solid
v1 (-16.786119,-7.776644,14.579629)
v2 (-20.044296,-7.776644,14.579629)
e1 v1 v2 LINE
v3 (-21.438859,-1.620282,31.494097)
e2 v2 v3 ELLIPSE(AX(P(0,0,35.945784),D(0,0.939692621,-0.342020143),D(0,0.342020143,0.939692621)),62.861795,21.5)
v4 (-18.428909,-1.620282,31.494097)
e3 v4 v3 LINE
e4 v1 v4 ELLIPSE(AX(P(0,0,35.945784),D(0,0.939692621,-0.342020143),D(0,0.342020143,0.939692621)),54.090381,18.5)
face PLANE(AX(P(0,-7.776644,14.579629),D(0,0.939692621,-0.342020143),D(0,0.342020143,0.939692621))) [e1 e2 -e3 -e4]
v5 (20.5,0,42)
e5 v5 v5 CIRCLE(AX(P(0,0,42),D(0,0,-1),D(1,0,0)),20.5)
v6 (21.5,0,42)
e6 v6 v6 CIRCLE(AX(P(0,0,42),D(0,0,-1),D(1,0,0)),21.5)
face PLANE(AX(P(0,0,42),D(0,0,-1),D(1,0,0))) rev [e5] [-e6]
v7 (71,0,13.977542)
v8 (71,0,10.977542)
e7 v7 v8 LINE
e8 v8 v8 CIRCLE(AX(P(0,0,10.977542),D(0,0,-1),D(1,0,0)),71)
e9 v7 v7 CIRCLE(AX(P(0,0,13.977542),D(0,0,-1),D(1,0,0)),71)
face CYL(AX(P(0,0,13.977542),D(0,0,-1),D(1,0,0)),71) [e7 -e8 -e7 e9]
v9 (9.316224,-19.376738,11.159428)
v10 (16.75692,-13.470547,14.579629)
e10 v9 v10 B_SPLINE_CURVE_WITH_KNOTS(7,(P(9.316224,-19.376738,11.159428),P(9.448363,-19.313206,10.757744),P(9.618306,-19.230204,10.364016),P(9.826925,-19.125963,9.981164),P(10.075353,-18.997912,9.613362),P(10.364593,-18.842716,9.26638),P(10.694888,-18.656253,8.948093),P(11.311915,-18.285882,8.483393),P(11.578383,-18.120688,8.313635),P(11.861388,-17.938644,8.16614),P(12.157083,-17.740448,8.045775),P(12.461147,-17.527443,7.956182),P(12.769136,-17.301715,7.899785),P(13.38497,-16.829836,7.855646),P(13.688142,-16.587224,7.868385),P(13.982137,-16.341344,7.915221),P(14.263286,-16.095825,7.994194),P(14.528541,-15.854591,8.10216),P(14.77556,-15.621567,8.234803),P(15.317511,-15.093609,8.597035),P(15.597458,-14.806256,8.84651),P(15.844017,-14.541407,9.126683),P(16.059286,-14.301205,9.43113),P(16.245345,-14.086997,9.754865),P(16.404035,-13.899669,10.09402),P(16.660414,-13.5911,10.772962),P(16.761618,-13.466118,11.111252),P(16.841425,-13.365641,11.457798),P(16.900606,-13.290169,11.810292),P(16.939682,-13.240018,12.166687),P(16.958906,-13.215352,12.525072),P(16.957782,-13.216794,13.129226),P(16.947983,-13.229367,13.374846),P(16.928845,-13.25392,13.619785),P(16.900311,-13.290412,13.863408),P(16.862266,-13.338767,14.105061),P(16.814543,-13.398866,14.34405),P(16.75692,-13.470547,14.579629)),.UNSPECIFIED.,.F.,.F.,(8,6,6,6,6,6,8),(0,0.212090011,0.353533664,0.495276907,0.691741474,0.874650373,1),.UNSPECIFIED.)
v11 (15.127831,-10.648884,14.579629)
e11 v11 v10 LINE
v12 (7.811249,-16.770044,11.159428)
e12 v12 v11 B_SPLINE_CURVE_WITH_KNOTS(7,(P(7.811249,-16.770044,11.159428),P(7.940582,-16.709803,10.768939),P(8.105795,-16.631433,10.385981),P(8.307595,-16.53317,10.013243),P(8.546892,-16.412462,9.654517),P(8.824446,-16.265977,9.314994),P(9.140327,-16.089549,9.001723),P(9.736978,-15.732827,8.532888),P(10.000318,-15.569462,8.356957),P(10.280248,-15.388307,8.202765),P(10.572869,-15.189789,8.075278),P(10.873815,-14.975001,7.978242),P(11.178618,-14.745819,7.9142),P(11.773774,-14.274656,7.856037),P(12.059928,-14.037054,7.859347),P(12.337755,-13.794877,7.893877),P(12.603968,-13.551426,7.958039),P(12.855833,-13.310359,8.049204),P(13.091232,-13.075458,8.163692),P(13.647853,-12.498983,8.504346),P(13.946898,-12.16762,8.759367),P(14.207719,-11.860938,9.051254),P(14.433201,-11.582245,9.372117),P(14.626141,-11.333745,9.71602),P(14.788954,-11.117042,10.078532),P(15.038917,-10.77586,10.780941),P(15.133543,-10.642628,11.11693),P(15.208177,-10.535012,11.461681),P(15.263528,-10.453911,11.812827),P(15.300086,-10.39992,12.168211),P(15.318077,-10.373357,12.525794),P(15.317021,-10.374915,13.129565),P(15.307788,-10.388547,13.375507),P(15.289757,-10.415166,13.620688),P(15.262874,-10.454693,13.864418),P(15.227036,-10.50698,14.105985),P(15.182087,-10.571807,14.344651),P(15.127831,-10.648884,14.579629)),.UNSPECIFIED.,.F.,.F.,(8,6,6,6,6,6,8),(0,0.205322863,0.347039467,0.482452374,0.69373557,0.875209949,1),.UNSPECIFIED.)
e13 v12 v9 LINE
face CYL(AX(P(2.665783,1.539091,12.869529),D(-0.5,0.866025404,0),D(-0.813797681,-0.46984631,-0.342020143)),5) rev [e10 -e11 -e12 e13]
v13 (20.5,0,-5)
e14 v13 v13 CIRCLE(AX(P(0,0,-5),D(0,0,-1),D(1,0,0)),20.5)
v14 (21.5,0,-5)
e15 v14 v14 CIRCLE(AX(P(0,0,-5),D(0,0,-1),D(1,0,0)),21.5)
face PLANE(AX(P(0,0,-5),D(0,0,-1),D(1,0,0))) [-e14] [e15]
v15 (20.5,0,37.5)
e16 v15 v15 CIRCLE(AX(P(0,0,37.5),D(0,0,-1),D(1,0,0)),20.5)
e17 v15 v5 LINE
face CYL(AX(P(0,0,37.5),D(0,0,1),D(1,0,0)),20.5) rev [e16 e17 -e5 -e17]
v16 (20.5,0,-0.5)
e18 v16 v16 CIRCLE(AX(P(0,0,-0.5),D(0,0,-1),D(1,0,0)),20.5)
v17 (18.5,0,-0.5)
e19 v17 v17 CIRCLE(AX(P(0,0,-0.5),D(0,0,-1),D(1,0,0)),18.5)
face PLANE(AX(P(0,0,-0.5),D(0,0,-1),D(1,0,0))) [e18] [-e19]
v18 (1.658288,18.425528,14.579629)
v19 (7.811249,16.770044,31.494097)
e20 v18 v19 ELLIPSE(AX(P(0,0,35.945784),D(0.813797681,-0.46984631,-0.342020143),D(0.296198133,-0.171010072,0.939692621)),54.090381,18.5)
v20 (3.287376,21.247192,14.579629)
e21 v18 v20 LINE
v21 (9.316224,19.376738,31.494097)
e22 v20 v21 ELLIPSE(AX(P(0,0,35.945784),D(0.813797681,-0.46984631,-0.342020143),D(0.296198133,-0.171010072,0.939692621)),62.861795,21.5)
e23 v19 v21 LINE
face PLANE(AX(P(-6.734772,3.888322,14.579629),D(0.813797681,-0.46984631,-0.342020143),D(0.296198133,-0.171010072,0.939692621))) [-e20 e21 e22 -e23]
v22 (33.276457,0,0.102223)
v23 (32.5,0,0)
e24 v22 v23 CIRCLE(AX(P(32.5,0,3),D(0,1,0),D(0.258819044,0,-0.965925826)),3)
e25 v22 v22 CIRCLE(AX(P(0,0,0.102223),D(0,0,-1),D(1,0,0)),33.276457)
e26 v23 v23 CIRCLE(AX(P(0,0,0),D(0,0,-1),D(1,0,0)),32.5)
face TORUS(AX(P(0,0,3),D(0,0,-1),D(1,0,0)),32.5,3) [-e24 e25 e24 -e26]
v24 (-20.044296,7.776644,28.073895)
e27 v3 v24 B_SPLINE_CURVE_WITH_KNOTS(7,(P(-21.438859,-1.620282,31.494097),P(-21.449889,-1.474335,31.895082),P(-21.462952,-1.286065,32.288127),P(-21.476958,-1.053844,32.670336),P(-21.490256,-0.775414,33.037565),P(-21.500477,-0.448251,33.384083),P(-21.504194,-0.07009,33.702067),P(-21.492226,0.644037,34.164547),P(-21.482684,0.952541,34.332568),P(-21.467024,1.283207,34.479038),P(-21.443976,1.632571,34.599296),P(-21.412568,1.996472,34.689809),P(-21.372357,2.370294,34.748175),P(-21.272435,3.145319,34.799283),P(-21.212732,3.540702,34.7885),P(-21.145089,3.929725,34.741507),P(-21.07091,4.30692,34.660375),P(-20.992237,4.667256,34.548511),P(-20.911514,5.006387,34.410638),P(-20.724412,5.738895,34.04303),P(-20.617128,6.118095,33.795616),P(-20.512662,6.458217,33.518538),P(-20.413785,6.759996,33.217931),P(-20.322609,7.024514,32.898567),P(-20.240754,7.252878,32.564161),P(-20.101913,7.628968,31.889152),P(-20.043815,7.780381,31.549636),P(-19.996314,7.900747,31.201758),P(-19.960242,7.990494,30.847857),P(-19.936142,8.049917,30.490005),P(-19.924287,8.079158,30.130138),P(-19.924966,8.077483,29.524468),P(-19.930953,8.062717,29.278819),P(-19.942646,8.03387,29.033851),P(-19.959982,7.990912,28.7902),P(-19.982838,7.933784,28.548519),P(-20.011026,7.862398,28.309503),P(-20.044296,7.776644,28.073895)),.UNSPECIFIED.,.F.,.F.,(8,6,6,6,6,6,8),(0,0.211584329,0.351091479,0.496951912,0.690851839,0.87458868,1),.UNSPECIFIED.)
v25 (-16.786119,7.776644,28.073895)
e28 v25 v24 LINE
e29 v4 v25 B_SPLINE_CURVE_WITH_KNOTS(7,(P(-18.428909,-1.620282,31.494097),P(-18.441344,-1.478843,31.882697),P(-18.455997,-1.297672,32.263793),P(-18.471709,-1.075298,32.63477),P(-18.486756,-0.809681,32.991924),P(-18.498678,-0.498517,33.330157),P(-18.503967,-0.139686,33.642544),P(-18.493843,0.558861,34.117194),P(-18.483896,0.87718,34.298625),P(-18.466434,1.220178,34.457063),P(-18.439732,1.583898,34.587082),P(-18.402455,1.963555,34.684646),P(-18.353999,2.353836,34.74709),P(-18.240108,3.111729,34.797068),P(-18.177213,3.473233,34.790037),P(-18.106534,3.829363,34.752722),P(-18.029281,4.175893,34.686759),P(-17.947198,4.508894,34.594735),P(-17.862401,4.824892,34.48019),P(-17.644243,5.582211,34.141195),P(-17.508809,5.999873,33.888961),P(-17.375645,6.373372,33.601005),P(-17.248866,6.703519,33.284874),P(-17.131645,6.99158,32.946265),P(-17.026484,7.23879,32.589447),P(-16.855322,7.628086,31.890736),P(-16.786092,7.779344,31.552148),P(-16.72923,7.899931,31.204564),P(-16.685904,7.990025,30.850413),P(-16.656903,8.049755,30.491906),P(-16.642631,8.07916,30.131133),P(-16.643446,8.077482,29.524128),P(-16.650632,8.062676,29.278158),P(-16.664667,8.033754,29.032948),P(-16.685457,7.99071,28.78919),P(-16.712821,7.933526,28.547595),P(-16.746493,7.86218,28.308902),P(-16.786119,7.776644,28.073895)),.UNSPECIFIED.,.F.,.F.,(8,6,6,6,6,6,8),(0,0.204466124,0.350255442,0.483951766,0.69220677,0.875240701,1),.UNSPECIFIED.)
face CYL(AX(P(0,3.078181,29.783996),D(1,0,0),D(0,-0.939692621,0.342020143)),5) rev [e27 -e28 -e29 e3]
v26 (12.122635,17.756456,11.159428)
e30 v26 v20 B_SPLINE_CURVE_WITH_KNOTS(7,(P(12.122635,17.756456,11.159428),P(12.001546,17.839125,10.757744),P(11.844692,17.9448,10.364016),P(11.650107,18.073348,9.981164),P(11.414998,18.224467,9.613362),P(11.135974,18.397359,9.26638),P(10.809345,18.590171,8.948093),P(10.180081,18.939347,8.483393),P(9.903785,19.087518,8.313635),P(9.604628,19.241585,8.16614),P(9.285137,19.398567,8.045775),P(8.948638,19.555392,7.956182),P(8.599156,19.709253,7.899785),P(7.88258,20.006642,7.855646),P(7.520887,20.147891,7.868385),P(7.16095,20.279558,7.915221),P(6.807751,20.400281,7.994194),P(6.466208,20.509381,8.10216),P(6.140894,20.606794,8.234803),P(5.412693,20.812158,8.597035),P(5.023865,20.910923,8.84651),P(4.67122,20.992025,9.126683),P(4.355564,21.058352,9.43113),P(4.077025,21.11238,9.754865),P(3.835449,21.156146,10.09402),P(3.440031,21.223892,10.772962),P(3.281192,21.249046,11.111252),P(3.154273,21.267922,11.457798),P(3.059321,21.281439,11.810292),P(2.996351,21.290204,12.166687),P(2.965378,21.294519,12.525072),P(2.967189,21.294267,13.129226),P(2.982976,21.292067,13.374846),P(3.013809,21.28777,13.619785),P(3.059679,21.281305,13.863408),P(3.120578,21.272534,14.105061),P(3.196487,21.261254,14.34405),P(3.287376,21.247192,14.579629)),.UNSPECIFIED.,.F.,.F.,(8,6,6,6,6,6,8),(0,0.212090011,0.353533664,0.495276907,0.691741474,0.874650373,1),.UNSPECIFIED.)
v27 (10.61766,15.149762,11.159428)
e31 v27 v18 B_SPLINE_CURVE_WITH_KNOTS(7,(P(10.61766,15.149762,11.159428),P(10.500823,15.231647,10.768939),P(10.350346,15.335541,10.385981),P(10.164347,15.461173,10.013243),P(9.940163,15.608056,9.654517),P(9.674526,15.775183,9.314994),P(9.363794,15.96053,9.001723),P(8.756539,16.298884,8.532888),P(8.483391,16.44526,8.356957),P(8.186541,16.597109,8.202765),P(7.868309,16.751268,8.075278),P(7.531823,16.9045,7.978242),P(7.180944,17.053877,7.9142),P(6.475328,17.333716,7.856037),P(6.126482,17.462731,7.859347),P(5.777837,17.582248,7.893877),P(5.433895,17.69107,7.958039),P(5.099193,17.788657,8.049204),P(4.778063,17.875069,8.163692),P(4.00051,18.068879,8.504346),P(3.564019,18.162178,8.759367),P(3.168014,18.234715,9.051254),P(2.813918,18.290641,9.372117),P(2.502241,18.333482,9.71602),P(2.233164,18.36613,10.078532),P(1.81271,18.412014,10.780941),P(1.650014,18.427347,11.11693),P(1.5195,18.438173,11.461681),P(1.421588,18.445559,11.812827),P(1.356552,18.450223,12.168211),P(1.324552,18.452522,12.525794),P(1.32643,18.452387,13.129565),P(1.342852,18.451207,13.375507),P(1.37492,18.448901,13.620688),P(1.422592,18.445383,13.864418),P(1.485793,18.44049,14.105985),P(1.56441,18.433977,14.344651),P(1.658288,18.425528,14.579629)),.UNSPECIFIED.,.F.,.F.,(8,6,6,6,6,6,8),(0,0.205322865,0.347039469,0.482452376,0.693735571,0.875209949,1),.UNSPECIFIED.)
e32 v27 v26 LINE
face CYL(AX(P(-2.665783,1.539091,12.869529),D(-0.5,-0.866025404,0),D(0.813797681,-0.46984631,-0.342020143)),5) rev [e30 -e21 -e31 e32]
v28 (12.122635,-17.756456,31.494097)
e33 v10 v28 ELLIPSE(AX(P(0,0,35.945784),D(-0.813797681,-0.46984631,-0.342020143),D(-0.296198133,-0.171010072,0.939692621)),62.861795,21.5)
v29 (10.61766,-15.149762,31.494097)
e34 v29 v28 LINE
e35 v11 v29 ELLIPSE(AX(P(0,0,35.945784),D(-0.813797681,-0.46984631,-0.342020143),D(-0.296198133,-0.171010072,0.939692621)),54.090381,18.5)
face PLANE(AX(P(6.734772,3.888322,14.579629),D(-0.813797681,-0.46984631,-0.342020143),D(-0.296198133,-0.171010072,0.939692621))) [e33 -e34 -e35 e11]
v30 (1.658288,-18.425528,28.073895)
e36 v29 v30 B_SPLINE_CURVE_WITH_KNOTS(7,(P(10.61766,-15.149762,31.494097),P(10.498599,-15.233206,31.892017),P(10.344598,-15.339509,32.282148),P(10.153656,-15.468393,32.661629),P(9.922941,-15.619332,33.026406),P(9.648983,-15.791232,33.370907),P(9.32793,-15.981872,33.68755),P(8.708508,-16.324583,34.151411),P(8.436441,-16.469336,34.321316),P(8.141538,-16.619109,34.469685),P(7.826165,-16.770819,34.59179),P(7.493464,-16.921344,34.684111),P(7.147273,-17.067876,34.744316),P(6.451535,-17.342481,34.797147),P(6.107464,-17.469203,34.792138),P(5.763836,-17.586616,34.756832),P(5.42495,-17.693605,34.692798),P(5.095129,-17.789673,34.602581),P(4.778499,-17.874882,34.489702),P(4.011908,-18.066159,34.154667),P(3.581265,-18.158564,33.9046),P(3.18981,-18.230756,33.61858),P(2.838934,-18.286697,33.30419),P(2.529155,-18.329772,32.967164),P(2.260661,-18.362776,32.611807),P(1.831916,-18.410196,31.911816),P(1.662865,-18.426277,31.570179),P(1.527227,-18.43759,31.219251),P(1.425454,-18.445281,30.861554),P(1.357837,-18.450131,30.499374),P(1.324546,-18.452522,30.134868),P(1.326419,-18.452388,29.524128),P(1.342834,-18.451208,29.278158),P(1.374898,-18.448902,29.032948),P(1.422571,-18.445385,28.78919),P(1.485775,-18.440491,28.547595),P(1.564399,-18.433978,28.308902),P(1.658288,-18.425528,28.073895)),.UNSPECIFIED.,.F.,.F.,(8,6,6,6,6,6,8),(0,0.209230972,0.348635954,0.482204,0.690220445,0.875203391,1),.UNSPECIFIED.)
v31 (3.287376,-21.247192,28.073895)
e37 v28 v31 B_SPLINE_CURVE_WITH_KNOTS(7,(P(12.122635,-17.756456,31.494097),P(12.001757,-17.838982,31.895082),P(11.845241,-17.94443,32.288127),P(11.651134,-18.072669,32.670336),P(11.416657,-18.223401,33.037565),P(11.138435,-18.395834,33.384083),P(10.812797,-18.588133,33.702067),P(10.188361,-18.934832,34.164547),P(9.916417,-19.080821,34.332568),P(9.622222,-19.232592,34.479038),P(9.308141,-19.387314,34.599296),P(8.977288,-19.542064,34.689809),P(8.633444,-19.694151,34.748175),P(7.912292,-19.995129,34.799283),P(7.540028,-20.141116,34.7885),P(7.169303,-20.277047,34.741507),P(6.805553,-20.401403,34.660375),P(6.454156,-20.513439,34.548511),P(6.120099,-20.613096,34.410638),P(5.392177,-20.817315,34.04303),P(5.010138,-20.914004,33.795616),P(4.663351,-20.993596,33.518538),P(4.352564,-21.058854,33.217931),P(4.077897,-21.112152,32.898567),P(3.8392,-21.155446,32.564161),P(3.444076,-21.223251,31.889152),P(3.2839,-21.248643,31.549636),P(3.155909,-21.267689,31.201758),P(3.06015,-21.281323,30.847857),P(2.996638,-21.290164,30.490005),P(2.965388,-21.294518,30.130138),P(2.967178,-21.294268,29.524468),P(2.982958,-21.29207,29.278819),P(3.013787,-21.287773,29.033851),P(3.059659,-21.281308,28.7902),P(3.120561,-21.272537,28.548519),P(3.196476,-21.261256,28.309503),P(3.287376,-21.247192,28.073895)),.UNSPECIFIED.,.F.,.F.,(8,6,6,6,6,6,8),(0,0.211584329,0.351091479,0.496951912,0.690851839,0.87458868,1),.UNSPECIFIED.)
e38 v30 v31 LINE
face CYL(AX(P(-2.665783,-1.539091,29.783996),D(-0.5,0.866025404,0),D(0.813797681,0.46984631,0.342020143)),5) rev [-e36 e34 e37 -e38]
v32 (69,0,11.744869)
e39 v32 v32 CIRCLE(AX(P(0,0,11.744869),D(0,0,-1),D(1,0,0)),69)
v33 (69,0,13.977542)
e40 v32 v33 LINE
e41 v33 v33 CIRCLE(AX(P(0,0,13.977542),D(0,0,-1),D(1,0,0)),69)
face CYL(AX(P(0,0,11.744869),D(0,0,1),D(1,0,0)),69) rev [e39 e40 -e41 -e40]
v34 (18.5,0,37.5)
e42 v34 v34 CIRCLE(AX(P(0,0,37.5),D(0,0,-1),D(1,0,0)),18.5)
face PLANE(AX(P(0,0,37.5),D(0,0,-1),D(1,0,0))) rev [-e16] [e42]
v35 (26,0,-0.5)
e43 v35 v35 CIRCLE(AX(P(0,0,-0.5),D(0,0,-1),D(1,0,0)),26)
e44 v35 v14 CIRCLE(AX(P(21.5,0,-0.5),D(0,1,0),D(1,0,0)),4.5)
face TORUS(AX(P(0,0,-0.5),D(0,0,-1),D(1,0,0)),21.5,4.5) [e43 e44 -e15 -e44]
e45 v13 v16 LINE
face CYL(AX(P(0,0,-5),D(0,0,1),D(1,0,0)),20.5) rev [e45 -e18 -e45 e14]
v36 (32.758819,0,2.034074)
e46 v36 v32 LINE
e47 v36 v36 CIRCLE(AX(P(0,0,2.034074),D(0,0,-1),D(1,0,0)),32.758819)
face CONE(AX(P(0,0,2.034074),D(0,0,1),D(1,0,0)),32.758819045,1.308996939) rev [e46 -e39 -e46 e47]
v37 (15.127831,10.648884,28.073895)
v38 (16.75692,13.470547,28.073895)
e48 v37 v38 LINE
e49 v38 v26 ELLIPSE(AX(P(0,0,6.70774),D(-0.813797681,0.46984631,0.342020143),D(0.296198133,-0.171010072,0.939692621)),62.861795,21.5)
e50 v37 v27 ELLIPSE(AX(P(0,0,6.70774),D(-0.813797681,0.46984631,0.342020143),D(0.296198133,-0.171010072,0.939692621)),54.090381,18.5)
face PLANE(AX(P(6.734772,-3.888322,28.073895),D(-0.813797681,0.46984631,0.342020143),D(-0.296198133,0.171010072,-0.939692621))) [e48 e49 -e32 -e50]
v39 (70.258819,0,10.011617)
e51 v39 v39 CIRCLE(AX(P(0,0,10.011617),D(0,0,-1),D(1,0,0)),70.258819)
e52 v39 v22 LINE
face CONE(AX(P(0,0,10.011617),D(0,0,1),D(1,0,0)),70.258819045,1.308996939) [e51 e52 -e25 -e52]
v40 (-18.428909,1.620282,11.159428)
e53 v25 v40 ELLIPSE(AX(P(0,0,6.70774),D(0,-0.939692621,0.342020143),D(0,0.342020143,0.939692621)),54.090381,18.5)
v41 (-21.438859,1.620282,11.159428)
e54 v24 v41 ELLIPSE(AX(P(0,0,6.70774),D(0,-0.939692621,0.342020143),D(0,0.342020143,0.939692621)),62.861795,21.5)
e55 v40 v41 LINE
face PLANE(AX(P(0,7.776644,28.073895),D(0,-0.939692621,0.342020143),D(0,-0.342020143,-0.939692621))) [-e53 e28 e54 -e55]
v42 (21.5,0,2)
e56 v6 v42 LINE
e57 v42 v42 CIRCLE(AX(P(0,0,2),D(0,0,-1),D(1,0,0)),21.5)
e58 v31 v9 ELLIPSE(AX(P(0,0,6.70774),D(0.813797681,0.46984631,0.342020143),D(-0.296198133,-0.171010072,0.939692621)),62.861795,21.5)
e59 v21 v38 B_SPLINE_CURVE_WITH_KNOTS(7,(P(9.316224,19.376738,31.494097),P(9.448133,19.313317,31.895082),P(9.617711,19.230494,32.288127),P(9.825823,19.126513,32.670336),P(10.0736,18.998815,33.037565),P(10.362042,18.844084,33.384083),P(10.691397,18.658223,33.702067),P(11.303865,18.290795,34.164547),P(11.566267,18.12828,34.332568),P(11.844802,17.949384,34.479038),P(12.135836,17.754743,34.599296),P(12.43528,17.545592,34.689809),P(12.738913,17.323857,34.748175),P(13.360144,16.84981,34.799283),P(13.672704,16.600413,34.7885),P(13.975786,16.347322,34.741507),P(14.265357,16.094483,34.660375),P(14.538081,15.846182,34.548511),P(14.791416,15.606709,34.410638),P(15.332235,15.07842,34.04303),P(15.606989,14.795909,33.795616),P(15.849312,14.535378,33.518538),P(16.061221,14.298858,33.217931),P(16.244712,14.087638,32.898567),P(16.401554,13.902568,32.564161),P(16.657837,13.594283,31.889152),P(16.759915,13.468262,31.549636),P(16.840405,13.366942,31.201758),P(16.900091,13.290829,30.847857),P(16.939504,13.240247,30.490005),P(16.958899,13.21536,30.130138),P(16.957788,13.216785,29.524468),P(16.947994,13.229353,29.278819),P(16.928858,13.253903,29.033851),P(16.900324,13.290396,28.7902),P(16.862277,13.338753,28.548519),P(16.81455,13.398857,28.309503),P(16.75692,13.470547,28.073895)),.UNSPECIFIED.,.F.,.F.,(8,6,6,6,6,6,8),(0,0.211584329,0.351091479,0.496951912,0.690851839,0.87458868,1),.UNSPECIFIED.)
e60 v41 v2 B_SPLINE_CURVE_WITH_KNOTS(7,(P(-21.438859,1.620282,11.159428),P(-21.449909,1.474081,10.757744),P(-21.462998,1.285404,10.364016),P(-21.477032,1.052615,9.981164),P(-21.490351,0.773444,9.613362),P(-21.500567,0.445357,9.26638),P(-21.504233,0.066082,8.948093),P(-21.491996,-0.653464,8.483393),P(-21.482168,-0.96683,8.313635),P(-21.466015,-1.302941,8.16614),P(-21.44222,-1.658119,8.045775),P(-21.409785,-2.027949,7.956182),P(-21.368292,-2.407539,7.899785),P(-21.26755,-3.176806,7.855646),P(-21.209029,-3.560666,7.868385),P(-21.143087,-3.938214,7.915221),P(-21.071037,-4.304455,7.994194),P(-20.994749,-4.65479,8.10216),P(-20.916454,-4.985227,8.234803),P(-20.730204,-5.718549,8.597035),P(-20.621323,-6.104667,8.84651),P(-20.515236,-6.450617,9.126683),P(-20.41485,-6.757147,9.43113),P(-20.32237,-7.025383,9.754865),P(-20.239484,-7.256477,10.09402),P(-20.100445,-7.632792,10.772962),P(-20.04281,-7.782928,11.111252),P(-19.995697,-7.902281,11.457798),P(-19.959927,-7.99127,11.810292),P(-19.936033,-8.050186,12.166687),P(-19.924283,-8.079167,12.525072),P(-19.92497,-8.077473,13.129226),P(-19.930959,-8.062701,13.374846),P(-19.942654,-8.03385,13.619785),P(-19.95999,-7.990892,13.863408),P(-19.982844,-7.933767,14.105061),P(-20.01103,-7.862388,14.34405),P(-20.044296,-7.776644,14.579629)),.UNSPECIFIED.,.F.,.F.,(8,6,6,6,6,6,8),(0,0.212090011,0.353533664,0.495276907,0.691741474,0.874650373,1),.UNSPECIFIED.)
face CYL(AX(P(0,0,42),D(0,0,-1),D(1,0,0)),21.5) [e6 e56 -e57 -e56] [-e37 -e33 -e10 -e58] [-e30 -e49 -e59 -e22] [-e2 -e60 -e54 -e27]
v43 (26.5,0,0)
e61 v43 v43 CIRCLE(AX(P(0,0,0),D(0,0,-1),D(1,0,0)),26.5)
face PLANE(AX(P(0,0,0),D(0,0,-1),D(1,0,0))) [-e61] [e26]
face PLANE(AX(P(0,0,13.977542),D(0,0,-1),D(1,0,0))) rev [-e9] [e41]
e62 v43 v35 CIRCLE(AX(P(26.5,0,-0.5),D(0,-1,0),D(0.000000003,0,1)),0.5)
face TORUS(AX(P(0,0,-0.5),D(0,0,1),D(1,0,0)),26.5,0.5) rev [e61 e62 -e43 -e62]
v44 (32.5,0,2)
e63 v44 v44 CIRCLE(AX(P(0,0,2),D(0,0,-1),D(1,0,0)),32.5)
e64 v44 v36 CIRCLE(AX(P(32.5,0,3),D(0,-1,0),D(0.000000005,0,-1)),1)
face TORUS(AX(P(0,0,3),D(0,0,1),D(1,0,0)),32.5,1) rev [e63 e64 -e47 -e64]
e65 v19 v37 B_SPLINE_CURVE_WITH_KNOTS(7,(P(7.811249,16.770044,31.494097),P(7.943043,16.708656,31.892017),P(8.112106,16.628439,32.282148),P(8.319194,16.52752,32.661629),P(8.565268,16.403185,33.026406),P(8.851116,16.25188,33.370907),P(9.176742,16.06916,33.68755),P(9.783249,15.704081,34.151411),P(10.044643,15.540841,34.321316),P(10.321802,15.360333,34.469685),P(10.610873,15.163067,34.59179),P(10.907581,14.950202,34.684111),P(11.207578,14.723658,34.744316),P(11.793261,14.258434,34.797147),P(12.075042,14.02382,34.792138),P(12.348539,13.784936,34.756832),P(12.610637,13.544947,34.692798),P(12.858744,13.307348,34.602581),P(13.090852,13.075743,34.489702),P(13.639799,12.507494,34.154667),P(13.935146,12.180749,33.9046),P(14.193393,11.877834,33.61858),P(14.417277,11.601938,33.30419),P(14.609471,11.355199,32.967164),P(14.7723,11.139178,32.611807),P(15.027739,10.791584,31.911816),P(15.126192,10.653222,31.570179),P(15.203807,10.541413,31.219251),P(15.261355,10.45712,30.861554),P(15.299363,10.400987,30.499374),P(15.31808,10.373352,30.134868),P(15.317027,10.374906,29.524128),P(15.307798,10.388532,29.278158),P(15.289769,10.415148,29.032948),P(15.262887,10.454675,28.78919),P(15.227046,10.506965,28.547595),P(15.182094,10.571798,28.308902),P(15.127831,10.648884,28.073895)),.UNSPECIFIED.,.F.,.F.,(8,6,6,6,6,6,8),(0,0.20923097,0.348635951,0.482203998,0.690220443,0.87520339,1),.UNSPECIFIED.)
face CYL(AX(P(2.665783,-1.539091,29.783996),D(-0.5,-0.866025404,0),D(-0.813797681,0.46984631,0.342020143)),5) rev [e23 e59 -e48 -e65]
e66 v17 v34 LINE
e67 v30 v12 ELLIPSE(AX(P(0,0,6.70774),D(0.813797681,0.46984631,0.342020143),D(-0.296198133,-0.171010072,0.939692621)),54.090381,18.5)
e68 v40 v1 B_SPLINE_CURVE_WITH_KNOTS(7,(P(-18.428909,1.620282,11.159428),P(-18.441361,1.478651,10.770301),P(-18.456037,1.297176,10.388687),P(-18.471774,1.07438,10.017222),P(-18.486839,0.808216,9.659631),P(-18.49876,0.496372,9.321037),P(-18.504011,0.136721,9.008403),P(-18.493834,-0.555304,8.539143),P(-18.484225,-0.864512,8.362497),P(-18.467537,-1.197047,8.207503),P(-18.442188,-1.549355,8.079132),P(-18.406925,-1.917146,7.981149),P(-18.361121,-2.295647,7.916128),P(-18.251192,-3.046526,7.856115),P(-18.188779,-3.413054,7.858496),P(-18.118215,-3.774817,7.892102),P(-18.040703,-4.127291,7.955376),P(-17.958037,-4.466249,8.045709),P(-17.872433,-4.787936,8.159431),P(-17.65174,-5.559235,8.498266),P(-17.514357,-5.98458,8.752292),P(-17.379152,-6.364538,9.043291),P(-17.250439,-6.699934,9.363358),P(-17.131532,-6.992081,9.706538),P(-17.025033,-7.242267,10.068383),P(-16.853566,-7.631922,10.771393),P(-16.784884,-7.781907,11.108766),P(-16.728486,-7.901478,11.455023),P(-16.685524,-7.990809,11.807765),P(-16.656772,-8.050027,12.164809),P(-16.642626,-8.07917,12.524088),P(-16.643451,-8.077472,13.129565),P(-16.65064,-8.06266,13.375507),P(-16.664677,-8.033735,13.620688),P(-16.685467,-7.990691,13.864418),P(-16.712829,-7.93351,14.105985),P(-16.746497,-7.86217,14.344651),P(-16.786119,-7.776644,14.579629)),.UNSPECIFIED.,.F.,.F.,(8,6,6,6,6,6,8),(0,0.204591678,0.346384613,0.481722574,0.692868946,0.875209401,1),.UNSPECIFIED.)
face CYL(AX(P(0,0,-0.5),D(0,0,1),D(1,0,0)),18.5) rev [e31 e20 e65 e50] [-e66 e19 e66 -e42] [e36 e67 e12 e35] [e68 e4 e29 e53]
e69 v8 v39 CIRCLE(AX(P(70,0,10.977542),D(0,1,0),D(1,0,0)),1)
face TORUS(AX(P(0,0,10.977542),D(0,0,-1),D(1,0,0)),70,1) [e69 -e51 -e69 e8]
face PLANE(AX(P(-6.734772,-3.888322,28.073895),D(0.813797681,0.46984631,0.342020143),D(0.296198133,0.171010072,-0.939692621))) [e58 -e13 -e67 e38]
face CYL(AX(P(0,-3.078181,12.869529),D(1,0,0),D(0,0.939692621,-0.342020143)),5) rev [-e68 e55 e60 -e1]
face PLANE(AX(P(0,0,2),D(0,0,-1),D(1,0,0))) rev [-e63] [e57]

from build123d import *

# Parameters (mm, degrees)
CORTE_EXTRUS_O1_REACH      = 110.839
CORTE_EXTRUS_O1_END_RADIUS = 21.5
PADR_OCIRCULAR1_COUNT      = 3


with BuildPart() as part:
    # Esboço1 → Revolução1 (revolve)
    with BuildSketch(Plane(origin=(0, 0, 0), x_dir=(0, 0, -1), z_dir=(1, 0, 0)), mode=Mode.PRIVATE) as revolu_o1_sk:
        with BuildLine():
            Line((-13.977542355, 71), (-10.977542355, 71))
            ThreePointArc((-10.977542355, 71), (-10.368780926, 70.79335334), (-10.011616529, 70.258819045))
            Line((-10.011616529, 70.258819045), (-0.102222521, 33.276457135))
            ThreePointArc((-0.102222521, 33.276457135), (-0.025665416, 32.891578577), (0, 32.5))
            Line((0, 32.5), (0, 26.5))
            ThreePointArc((0, 26.5), (0.146446609, 26.146446609), (0.5, 26))
            ThreePointArc((0.5, 26), (3.681980515, 24.681980515), (5, 21.5))
            Line((5, 21.5), (5, 20.5))
            Line((5, 20.5), (0.5, 20.5))
            Line((0.5, 20.5), (0.5, 18.5))
            Line((0.5, 18.5), (-37.5, 18.5))
            Line((-37.5, 18.5), (-37.5, 20.5))
            Line((-37.5, 20.5), (-42, 20.5))
            Line((-42, 20.5), (-42, 21.5))
            Line((-42, 21.5), (-2, 21.5))
            Line((-2, 21.5), (-2, 26.5))
            Line((-2, 26.5), (-2, 32.5))
            ThreePointArc((-2, 32.5), (-2.008555139, 32.630526192), (-2.034074174, 32.758819045))
            Line((-2.034074174, 32.758819045), (-11.744869343, 69))
            Line((-11.744869343, 69), (-13.977542355, 69))
            Line((-13.977542355, 69), (-13.977542355, 71))
        make_face()
    revolve(revolu_o1_sk.sketch.rotate(Axis((0, 0, 0), (0, 0, -1)), 90), axis=Axis((0, 0, 0), (0, 0, -1)))

    # Corte-extrusão1: up to this cylinder (the profile starts inside it)
    corte_extrus_o1_end = Plane(origin=(0, 0, 21.326762), z_dir=(0, 0, 1)) * Cylinder(CORTE_EXTRUS_O1_END_RADIUS, 265.678, mode=Mode.PRIVATE)
    # Esboço2 → Corte-extrusão1 (cut, up to the surface)
    with BuildSketch(Plane(origin=(0, 0, 0), x_dir=(0, 0, -1), z_dir=(1, 0, 0)), mode=Mode.PRIVATE) as corte_extrus_o1_sk1:
        with BuildLine():
            Line((-14.579629472, -7.776644394), (-31.494096646, -1.620281814))
            ThreePointArc((-31.494096646, -1.620281814), (-34.482459034, 4.788282007), (-28.073895213, 7.776644394))
            Line((-28.073895213, 7.776644394), (-11.159428039, 1.620281814))
            ThreePointArc((-11.159428039, 1.620281814), (-8.171065652, -4.788282007), (-14.579629472, -7.776644394))
        make_face()
    corte_extrus_o1_tool1 = extrude(corte_extrus_o1_sk1.sketch, amount=-CORTE_EXTRUS_O1_REACH, mode=Mode.PRIVATE) & corte_extrus_o1_end
    corte_extrus_o1 = corte_extrus_o1_tool1.solids().sort_by_distance((0, 0, 21.326762))[0]
    add(corte_extrus_o1, mode=Mode.SUBTRACT)

    # PadrãoCircular1: Corte-extrusão1 ×3 about axis
    padr_ocircular1_axis = Axis((0, 0, 0), (0, 0, 1))
    for i in range(1, PADR_OCIRCULAR1_COUNT):
        add(corte_extrus_o1.rotate(padr_ocircular1_axis, i * 360 / PADR_OCIRCULAR1_COUNT), mode=Mode.SUBTRACT)


solid = part.part
